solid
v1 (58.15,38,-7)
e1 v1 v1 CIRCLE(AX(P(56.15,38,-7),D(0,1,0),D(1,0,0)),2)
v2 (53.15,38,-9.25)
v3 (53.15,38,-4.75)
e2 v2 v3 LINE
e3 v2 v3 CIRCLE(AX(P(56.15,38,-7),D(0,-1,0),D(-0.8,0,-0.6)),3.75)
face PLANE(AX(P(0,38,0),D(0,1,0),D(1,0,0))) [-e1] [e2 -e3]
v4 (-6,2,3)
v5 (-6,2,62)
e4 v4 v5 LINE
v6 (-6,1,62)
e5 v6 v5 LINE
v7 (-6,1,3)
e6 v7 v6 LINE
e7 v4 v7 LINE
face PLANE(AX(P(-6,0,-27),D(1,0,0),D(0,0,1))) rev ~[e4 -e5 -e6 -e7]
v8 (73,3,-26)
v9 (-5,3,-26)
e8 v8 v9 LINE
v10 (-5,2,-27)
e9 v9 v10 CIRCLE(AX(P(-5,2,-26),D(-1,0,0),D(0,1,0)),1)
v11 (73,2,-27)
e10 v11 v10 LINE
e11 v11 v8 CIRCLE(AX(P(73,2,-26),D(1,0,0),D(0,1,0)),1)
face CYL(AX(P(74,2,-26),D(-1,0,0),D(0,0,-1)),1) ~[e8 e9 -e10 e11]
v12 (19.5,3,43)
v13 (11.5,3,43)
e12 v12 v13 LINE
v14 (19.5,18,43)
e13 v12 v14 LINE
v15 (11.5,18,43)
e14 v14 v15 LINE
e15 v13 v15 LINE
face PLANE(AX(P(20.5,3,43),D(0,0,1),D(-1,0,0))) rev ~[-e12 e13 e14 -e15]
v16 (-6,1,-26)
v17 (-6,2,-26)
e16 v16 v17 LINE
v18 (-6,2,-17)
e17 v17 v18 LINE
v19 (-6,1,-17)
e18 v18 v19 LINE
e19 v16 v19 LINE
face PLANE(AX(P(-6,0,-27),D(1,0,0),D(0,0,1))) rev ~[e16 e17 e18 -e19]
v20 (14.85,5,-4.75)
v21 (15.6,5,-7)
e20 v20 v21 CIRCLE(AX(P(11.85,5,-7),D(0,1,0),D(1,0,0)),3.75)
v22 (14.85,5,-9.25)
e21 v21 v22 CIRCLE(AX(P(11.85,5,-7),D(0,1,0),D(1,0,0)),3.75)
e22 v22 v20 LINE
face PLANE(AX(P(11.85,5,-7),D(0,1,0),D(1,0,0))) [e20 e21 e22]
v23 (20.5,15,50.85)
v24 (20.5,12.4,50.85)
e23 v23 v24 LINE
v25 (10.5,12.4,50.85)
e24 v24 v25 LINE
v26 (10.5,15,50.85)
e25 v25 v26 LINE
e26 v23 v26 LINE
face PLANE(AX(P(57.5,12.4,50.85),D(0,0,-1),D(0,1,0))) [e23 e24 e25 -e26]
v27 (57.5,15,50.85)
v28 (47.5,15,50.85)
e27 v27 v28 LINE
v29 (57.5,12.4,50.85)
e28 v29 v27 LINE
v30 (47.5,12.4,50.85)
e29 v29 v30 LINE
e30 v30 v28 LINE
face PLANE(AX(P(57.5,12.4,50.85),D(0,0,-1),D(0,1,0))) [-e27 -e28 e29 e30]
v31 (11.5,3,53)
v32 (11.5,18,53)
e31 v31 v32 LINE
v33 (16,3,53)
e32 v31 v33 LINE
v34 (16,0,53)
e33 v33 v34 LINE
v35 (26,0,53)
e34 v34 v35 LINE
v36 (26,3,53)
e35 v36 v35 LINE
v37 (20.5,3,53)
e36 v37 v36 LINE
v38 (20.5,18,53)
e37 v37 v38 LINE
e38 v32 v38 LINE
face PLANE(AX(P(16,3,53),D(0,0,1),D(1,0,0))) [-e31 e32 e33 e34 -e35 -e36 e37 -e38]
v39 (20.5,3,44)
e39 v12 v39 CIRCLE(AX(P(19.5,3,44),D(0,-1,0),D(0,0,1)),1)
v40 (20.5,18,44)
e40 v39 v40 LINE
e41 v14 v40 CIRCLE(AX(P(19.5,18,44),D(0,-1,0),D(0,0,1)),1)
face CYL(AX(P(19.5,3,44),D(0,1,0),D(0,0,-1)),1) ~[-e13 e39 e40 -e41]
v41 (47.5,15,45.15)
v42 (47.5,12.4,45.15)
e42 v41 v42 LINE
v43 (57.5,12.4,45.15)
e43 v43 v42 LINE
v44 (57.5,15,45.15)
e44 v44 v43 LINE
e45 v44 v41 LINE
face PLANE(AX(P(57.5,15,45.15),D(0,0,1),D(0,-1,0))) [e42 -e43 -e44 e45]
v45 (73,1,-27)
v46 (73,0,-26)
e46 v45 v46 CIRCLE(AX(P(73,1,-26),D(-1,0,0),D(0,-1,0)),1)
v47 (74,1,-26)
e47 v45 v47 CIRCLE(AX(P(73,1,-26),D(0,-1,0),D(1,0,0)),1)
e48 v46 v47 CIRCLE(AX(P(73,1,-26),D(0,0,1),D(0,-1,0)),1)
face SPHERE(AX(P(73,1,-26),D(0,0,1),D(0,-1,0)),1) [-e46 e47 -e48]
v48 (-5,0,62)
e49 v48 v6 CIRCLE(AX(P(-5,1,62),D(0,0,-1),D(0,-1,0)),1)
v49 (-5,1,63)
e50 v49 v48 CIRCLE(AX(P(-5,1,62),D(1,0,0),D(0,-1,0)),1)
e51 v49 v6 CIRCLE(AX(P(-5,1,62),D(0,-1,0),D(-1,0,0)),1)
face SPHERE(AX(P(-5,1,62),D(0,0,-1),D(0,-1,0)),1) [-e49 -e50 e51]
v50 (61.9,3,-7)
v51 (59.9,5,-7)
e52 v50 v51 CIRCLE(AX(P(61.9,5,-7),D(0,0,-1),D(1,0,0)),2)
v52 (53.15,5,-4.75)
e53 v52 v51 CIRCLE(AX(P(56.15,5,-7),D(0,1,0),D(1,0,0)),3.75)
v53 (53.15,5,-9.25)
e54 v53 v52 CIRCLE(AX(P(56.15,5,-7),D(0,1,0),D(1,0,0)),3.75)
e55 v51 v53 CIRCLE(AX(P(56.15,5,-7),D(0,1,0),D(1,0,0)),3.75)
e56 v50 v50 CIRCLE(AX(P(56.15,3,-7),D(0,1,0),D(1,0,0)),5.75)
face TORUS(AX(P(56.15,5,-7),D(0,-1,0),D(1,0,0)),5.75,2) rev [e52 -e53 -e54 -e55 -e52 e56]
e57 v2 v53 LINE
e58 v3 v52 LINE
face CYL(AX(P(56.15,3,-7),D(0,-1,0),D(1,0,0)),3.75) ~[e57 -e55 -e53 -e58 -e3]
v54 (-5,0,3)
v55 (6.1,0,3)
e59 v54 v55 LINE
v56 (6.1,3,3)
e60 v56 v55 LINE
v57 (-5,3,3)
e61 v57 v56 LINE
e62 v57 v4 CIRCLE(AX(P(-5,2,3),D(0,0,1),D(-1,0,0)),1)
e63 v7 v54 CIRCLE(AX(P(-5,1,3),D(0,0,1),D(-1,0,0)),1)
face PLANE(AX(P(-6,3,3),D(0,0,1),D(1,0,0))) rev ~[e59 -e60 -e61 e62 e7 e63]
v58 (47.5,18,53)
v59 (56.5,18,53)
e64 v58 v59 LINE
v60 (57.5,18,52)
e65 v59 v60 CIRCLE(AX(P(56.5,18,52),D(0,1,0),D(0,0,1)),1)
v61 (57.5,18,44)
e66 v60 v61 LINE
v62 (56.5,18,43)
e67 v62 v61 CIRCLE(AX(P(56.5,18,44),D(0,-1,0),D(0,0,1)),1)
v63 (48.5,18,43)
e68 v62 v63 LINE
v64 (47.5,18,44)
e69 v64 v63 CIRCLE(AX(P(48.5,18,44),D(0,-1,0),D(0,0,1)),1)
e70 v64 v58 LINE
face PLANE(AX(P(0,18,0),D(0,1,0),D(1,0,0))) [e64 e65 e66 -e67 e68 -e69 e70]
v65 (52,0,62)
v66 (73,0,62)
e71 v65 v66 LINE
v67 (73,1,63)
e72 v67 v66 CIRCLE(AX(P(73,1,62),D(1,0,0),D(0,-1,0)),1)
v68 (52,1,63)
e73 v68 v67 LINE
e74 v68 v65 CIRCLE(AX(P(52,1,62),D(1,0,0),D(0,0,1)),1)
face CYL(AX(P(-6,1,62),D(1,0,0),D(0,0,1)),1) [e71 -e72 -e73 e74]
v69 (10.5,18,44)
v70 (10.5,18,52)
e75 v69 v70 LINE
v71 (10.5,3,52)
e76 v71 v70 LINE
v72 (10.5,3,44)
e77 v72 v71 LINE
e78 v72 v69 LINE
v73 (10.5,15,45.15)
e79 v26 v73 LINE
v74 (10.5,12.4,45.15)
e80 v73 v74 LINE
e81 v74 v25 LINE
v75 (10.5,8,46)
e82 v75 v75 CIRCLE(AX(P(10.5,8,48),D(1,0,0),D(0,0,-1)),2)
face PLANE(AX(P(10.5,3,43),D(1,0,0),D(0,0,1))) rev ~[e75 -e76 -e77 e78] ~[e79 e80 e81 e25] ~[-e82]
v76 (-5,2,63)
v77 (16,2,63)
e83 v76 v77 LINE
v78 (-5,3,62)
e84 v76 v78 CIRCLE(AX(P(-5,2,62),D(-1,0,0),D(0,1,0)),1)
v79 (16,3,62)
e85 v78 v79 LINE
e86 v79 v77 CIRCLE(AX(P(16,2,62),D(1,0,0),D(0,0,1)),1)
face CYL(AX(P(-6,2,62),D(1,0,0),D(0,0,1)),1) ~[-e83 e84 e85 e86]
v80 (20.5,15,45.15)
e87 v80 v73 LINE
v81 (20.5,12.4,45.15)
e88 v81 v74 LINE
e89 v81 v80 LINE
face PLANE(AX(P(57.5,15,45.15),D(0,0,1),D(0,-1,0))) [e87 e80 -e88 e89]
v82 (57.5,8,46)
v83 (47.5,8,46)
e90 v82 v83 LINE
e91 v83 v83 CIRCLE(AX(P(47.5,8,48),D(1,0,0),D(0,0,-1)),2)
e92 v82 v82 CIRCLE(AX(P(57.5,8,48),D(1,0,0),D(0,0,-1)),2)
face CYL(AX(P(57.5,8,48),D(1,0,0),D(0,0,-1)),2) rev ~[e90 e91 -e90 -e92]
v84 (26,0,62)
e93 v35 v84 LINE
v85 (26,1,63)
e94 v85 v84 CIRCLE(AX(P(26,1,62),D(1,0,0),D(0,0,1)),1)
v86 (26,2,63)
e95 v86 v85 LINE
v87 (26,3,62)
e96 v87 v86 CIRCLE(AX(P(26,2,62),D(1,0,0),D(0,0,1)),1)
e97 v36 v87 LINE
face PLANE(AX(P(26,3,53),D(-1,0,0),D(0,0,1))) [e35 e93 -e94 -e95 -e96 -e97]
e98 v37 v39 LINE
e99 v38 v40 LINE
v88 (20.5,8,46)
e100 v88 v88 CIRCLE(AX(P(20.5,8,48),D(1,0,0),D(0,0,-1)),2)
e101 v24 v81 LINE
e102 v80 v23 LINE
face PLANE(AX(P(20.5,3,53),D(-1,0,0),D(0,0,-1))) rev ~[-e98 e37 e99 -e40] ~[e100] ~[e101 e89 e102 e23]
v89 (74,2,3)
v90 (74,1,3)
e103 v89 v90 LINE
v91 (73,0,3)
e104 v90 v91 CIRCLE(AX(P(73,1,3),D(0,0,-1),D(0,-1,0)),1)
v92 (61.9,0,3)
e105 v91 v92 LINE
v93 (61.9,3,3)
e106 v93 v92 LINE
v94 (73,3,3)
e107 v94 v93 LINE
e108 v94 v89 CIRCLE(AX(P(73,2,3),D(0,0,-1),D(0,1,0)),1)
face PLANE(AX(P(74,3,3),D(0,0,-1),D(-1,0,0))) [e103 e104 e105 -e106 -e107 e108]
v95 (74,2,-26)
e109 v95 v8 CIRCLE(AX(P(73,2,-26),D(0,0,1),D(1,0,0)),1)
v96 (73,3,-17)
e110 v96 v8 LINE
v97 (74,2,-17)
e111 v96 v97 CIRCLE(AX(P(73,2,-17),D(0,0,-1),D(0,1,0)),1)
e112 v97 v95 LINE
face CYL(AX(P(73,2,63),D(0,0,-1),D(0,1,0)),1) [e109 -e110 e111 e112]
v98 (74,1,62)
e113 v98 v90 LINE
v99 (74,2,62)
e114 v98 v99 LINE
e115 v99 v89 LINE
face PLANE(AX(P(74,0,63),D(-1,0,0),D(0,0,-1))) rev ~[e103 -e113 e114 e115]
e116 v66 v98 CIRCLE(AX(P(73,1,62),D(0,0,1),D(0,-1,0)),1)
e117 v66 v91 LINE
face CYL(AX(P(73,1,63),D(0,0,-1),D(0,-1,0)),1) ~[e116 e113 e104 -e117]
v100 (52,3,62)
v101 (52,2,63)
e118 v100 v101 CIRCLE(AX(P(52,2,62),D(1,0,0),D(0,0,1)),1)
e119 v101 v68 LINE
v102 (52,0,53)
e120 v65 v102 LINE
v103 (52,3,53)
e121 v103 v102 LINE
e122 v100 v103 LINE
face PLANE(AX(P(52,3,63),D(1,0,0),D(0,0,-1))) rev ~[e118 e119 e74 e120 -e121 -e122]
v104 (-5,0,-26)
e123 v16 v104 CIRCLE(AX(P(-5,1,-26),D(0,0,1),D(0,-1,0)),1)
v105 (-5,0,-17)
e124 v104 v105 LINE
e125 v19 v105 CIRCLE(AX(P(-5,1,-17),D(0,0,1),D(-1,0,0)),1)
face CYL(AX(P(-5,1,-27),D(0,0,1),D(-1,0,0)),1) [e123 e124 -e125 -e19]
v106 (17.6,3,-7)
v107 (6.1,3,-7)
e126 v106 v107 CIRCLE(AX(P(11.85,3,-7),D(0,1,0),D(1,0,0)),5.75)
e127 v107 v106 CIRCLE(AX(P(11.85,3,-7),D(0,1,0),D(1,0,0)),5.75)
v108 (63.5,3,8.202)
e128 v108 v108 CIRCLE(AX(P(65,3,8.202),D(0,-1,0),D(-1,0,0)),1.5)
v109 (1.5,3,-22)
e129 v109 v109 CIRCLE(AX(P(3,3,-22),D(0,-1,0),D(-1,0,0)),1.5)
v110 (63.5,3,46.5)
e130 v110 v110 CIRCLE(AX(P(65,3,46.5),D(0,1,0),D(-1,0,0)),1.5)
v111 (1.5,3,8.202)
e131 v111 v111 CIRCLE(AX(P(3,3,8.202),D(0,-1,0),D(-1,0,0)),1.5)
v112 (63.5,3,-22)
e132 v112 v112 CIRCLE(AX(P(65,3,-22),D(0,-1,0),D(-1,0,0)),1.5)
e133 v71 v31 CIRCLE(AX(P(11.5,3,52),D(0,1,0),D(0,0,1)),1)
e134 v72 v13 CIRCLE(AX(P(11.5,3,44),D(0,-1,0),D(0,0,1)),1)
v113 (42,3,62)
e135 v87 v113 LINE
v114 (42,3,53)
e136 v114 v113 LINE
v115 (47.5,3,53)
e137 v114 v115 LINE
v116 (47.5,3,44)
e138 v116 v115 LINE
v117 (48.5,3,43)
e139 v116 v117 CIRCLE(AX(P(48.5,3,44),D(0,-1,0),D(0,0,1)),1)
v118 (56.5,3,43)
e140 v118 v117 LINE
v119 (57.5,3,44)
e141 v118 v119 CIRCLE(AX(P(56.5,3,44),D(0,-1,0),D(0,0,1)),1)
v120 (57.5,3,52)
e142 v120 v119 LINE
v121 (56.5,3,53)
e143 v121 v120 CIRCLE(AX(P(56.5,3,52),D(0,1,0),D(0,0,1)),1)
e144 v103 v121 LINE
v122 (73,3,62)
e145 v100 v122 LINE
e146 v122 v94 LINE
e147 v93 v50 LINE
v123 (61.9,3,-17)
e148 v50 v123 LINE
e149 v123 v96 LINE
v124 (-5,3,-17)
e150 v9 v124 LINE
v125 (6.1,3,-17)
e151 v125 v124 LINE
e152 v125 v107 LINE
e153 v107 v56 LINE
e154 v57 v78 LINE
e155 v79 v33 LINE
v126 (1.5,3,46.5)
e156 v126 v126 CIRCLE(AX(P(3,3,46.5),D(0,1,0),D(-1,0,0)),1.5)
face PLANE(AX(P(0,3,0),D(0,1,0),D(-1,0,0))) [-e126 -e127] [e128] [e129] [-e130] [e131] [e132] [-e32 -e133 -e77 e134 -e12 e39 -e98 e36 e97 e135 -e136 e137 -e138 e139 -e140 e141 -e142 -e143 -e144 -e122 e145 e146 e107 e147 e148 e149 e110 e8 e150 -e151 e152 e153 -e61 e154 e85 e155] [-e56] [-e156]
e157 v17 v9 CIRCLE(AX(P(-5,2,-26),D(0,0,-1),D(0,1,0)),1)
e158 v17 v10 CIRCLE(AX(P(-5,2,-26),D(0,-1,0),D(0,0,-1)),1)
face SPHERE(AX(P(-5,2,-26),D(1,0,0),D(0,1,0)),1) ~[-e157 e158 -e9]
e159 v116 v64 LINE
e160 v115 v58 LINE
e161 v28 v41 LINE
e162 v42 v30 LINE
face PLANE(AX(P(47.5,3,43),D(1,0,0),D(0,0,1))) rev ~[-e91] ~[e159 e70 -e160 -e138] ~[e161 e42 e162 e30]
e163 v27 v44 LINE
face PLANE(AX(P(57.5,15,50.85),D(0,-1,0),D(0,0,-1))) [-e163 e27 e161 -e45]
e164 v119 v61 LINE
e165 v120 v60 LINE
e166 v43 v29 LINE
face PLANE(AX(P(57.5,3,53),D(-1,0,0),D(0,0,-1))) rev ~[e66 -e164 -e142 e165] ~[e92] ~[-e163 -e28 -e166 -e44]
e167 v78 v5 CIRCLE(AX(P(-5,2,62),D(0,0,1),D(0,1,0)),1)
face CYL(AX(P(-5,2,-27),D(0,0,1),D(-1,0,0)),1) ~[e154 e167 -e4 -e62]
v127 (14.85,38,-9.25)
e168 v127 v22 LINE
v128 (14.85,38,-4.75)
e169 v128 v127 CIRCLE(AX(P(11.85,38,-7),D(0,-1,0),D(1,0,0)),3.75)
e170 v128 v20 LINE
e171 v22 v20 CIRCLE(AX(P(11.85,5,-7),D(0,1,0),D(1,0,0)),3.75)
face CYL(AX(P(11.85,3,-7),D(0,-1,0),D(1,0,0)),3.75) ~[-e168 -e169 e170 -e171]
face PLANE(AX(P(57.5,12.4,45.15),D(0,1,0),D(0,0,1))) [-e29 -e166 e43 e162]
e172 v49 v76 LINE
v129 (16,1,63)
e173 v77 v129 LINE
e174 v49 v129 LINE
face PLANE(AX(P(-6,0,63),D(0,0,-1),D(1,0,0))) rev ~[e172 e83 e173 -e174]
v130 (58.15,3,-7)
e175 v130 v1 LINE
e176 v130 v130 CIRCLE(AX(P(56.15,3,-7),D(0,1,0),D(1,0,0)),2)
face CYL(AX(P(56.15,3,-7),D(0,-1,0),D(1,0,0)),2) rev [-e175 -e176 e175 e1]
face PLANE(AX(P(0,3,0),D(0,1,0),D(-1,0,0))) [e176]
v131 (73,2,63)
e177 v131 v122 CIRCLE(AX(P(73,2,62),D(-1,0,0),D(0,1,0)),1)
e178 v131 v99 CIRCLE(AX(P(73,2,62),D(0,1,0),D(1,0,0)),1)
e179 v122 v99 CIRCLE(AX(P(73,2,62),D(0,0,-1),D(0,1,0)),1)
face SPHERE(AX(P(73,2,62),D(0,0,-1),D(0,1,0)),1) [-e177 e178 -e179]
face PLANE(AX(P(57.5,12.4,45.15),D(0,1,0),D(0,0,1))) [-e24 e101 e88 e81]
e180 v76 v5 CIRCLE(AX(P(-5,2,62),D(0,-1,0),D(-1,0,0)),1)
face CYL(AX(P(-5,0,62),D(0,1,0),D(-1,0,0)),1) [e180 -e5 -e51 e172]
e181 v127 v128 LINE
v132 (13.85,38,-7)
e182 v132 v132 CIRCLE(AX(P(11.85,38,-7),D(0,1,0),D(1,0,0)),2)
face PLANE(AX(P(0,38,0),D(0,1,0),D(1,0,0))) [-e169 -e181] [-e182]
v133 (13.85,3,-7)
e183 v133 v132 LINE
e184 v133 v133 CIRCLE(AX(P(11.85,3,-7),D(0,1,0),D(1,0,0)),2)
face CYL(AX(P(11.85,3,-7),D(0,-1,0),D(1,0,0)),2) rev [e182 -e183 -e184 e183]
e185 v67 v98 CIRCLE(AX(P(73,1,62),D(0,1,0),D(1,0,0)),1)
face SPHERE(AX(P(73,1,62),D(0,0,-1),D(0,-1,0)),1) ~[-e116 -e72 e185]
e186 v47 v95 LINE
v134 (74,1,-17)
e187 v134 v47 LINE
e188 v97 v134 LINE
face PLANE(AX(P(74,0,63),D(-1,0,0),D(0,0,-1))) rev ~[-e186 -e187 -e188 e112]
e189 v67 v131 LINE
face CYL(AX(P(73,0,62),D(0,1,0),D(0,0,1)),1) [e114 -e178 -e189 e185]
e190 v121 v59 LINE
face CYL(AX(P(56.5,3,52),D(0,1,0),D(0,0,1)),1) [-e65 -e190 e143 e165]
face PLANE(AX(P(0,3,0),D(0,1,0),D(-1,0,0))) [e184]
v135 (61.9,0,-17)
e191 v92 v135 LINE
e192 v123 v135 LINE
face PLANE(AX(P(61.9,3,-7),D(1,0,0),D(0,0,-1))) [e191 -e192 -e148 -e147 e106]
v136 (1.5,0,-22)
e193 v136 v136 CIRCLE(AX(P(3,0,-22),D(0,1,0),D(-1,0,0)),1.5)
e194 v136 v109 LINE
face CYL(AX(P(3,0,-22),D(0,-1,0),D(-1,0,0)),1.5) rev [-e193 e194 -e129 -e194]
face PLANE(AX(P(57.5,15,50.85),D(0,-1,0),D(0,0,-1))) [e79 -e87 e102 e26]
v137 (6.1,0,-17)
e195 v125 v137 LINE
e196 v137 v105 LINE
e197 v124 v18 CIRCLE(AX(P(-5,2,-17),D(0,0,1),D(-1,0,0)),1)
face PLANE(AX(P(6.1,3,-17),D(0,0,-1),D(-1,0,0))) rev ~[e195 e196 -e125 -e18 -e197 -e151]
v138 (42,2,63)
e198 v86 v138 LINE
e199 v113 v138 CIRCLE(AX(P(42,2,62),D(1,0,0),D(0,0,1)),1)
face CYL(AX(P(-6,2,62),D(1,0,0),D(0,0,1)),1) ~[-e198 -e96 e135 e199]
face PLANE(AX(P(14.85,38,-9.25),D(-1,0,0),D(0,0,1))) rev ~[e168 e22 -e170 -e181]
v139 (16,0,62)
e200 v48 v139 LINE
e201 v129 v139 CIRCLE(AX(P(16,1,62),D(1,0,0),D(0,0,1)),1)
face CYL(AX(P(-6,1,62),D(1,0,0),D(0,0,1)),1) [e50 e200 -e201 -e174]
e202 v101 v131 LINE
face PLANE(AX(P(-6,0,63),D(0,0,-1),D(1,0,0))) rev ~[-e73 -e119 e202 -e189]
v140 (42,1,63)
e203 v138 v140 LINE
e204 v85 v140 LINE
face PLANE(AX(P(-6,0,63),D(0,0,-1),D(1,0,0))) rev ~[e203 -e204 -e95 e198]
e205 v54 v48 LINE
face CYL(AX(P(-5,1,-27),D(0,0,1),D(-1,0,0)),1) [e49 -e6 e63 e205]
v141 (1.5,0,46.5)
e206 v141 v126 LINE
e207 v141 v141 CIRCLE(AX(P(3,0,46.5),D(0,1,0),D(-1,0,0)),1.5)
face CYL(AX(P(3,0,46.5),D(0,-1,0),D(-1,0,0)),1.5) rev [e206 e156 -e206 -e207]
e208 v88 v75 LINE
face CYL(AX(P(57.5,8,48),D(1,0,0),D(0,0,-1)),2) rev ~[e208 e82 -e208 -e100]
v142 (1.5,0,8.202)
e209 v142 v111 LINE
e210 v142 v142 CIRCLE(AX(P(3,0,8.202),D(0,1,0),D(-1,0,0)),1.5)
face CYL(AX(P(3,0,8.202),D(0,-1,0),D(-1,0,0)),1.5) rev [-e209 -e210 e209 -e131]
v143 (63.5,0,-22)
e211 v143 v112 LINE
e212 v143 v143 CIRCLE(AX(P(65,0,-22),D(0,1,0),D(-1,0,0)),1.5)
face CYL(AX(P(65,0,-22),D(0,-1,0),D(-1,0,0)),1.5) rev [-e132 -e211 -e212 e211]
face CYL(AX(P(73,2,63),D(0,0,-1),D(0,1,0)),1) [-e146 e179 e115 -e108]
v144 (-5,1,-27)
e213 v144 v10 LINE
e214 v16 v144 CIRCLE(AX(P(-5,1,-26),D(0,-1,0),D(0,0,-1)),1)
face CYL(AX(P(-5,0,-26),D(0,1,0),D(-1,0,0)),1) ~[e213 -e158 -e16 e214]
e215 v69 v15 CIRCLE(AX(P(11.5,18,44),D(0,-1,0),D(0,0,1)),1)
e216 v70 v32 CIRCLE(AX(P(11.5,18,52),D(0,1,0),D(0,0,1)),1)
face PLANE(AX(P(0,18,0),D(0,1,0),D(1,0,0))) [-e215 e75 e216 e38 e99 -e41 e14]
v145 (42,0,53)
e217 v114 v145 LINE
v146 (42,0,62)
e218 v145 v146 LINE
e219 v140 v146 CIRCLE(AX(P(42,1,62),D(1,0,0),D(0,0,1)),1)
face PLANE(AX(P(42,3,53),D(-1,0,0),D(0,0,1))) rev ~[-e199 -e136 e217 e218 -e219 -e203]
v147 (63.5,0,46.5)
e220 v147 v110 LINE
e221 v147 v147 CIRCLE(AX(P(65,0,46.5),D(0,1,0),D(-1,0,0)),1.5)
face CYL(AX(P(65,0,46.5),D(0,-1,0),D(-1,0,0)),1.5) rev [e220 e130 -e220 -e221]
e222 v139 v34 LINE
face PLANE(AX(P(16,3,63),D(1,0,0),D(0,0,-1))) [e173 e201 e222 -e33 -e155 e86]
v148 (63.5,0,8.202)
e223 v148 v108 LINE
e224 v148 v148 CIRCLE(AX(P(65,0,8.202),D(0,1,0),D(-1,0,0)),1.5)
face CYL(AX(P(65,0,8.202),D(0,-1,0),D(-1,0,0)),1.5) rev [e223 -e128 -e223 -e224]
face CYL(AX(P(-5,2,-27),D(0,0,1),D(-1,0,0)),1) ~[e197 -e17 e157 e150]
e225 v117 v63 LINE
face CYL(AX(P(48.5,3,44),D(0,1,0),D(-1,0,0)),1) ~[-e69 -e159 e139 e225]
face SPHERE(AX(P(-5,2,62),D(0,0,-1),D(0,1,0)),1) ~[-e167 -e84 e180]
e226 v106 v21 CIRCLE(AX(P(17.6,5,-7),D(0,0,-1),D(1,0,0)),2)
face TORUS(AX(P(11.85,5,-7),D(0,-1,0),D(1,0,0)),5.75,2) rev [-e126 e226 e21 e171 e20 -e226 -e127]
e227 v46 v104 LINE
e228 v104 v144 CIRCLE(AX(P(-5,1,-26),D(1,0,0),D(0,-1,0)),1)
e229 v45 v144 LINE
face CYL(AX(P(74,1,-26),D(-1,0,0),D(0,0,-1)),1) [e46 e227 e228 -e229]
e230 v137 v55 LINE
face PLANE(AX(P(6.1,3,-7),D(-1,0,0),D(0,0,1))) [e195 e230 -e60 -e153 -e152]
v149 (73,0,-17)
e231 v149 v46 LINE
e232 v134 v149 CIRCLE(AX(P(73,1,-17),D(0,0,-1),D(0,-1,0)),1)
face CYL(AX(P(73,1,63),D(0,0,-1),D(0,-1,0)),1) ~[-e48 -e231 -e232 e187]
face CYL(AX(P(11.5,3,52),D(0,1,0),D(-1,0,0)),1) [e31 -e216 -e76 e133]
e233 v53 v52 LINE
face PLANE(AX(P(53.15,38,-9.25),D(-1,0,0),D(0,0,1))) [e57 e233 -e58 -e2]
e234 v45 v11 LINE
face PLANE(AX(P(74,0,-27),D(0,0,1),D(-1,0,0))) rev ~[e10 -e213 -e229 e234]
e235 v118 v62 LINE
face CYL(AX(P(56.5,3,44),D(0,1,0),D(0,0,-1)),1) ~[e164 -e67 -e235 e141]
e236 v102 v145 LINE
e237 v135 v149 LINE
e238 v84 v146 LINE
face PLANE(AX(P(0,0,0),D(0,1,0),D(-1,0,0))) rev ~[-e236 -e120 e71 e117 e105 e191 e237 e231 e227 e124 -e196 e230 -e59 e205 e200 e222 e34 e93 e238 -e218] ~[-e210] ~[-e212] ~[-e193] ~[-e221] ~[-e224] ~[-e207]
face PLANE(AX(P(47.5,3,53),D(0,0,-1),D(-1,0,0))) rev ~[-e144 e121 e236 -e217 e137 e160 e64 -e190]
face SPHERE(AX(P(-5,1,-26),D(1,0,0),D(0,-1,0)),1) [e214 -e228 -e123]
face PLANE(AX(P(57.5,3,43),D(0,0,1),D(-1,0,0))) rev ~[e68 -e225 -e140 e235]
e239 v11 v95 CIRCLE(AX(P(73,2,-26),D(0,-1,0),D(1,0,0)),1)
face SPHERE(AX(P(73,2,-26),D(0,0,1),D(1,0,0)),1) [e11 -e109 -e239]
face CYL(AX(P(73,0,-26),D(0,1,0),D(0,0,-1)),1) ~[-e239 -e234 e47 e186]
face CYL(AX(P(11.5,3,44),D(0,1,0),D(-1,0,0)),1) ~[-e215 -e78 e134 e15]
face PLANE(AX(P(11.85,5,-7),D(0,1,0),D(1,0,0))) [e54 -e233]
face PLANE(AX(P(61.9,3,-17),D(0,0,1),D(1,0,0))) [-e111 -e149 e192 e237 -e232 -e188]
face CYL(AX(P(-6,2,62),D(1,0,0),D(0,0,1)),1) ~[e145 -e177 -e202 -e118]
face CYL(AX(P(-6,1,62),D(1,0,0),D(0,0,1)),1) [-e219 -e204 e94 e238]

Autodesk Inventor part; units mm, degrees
ref_plane "YZ Plane" through (0, 0, 0) normal (1, 0, 0) x (0, 1, 0)
ref_plane "XZ Plane" through (0, 0, 0) normal (0, 1, 0) x (-1, 0, 0)
ref_plane "XY Plane" through (0, 0, 0) normal (0, 0, 1) x (1, 0, 0)
sketch "Эскиз1" plane through (0, 0, 0) normal (0, 1, 0) x (-1, 0, 0)
  line L0 (6, 63) -> (-74, 63)
  line L1 (-74, 63) -> (-74, -27)
  line L2 (-74, -27) -> (6, -27)
  line L3 (6, -27) -> (6, 63)
  line L4 (-3, 8.202) -> (-65, 8.202)
  line L5 (-65, 8.202) -> (-65, -22)
  line L6 (-65, -22) -> (-3, -22)
  line L7 (-3, -22) -> (-3, 8.202)
  circle A0 centre (-3, 8.202) radius 1.5
  circle A1 centre (-3, -22) radius 1.5
  circle A2 centre (-65, 8.202) radius 1.5
  circle A3 centre (-65, -22) radius 1.5
  circle A4 centre (-3, 46.5) radius 1.5
  circle A5 centre (-65, 46.5) radius 1.5
  point P0 (0, 0)
  dimension "d0" = 80
  dimension "d1" = 90
  dimension "d2" = 30.202
  dimension "d3" = 5
  dimension "d4" = 62
  dimension "d5" = 9
  dimension "d6" = 3
  dimension "d7" = 3
  dimension "d8" = 3
  dimension "d9" = 3
  dimension "d10" = 3
  dimension "d11" = 9
  dimension "d12" = 16.5
  dimension "d13" = 3
  dimension "d14" = 16.5
  dimension "d15" = 9
extrude "Выдавливание1" add sketch "Эскиз1" along normal blind 3 contours L3 L2 L1 L0 | L4 A0 L7 A1 L6 A3 L5 A2
sketch "Эскиз2" plane through (0, 3, 0) normal (0, 1, 0) x (1, 0, 0)
  line L0 (10.5, -53) -> (20.5, -53)
  line L1 (20.5, -53) -> (20.5, -43)
  line L2 (20.5, -43) -> (10.5, -43)
  line L3 (10.5, -43) -> (10.5, -53)
  line L4 (47.5, -53) -> (57.5, -53)
  line L5 (57.5, -53) -> (57.5, -43)
  line L6 (57.5, -43) -> (47.5, -43)
  line L7 (47.5, -43) -> (47.5, -53)
  line L8 (-6, -63) -> (74, -63) projected
  line L9 (-6, 27) -> (-6, -63) projected
  point P0 (0, 0)
  point P1 (15.5, -53)
  point P2 (20.5, -48)
  dimension "d18" = 10
  dimension "d19" = 10
  dimension "d20" = 10
  dimension "d21" = 27
  dimension "d23" = 10
  dimension "d24" = 16.5
extrude "Выдавливание2" add sketch "Эскиз2" along normal blind 15
sketch "Эскиз3" plane through (57.5, 3, 53) normal (1, 0, 0) x (0, 0, -1)
  line L0 (2.15, 12) -> (7.85, 12)
  line L1 (7.85, 12) -> (7.85, 9.4)
  line L2 (7.85, 9.4) -> (2.15, 9.4)
  line L3 (2.15, 9.4) -> (2.15, 12)
  circle A0 centre (5, 5) radius 2
  line L4 (0, 15) -> (10, 15) projected
  line L5 (10, 0) -> (10, 15) projected
  point P0 (53, -3)
  dimension "d27" = 4
  dimension "d28" = 5.7
  dimension "d29" = 2.6
  dimension "d30" = 3
  dimension "d31" = 2.15
  dimension "d32" = 10
  dimension "d33" = 5
extrude "Выдавливание3" cut sketch "Эскиз3" against normal blind 78
fillet "Сопряжение2" radius 1 12 edges at (74, 0, 18) (74, 3, 18) (34, 0, -27) (74, 1.5, -27) (34, 3, -27) (-6, 3, 18) (-6, 0, 18) (34, 3, 63) (34, 0, 63) (-6, 1.5, 63) (74, 1.5, 63) (-6, 1.5, -27)
sketch "Эскиз6" plane through (0, 3, 0) normal (0, 1, 0) x (1, 0, 0)
  line L0 (14, 16) -> (-1, 16)
  line L1 (-1, 16) -> (-1, -2)
  line L2 (-1, -2) -> (14, -2)
  line L3 (14, -2) -> (14, 16)
  line L4 (73, 27) -> (-5, 27) projected
  line L5 (-6, 26) -> (-6, -62) projected
  line L6 (69, 16) -> (54, 16)
  line L7 (54, 16) -> (54, -2)
  line L8 (54, -2) -> (69, -2)
  line L9 (69, -2) -> (69, 16)
  line L10 (74, -62) -> (74, 26) projected
  circle A0 centre (11.85, 7) radius 2
  circle A1 centre (11.85, 7) radius 3.75
  circle A2 centre (56.15, 7) radius 2
  circle A3 centre (56.15, 7) radius 3.75
  point P0 (0, 0)
  dimension "d38" = 15
  dimension "d39" = 18
  dimension "d40" = 11
  dimension "d41" = 5
  dimension "d42" = 15
  dimension "d43" = 18
  dimension "d44" = 11
  dimension "d45" = 5
  dimension "d49" = 4
  dimension "d50" = 7.5
  dimension "d51" = 4
  dimension "d52" = 7.5
  dimension "d54" = 44.3
  dimension "d56" = 17.85
extrude "Выдавливание4" add sketch "Эскиз6" along normal blind 35 contours A1 L3 | L3 A1 | A3 L7 | L7 A3
fillet "Сопряжение4" radius 2 2 edges at (8.1, 3, -7) (52.4, 3, -7)
sketch "Эскиз7" plane through (11.85, 38, -7) normal (0, 1, 0) x (1, 0, 0)
  circle A0 centre (0, 0) radius 3.75 projected
  line L0 (3, 2.25) -> (3, -2.25)
  circle A1 centre (44.3, 0) radius 3.75 projected
  line L1 (41.3, 2.25) -> (41.3, -2.25)
  point P0 (-11.85, -7)
extrude "Выдавливание5" cut sketch "Эскиз7" against normal blind 33 contours A0 L0 | L1 A1 picked at (3.1367, -0.52) picked at (41.1633, -0.52)
fillet "Сопряжение5" radius 1 6 edges at (10.5, 10.5, 43) (20.5, 10.5, 43) (47.5, 10.5, 43) (57.5, 10.5, 43) (57.5, 10.5, 53) (10.5, 10.5, 53)
sketch "Эскиз12" plane through (0, 3, 0) normal (0, 1, 0) x (1, 0, 0)
  line L0 (73, -63) -> (-5, -63) projected
  line L1 (11.5, -53) -> (20.5, -53) projected
  line L2 (16, -53) -> (26, -53)
  line L3 (26, -53) -> (26, -63)
  line L4 (26, -63) -> (16, -63)
  line L5 (16, -63) -> (16, -53)
  line L6 (47.5, -53) -> (56.5, -53) projected
  line L7 (52, -53) -> (42, -53)
  line L8 (42, -53) -> (42, -63)
  line L9 (42, -63) -> (52, -63)
  line L10 (52, -63) -> (52, -53)
  point P0 (0, 0)
extrude "Выдавливание9" cut sketch "Эскиз12" against normal blind 10
sketch "Эскиз14" plane through (0, 3, 0) normal (0, 1, 0) x (1, 0, 0)
  circle A0 centre (11.85, 7) radius 5.75 projected
  line L0 (6.1, 7) -> (6.1, -3)
  line L1 (6.1, 17) -> (-6, 17)
  line L2 (-6, 17) -> (-6, -3)
  line L3 (-6, -3) -> (6.1, -3)
  line L4 (6.1, -3) -> (6.1, 17)
  arc A1 (53.15, 4.75) -> (53.15, 9.25) centre (56.15, 7) ccw projected
  circle A2 centre (56.15, 7) radius 5.75 projected
  line L5 (61.9, 7) -> (61.9, 17)
  line L6 (61.9, 17) -> (74, 17)
  line L7 (74, 17) -> (74, -3)
  line L8 (74, -3) -> (61.9, -3)
  line L9 (61.9, -3) -> (61.9, 17)
  point P0 (0, 0)
extrude "Выдавливание11" cut sketch "Эскиз14" against normal blind 10 contours L0 L3 L2 L1 L4 | L5 L6 L7 L8 L9
properties part number "kreplenie_dribler_V4"
